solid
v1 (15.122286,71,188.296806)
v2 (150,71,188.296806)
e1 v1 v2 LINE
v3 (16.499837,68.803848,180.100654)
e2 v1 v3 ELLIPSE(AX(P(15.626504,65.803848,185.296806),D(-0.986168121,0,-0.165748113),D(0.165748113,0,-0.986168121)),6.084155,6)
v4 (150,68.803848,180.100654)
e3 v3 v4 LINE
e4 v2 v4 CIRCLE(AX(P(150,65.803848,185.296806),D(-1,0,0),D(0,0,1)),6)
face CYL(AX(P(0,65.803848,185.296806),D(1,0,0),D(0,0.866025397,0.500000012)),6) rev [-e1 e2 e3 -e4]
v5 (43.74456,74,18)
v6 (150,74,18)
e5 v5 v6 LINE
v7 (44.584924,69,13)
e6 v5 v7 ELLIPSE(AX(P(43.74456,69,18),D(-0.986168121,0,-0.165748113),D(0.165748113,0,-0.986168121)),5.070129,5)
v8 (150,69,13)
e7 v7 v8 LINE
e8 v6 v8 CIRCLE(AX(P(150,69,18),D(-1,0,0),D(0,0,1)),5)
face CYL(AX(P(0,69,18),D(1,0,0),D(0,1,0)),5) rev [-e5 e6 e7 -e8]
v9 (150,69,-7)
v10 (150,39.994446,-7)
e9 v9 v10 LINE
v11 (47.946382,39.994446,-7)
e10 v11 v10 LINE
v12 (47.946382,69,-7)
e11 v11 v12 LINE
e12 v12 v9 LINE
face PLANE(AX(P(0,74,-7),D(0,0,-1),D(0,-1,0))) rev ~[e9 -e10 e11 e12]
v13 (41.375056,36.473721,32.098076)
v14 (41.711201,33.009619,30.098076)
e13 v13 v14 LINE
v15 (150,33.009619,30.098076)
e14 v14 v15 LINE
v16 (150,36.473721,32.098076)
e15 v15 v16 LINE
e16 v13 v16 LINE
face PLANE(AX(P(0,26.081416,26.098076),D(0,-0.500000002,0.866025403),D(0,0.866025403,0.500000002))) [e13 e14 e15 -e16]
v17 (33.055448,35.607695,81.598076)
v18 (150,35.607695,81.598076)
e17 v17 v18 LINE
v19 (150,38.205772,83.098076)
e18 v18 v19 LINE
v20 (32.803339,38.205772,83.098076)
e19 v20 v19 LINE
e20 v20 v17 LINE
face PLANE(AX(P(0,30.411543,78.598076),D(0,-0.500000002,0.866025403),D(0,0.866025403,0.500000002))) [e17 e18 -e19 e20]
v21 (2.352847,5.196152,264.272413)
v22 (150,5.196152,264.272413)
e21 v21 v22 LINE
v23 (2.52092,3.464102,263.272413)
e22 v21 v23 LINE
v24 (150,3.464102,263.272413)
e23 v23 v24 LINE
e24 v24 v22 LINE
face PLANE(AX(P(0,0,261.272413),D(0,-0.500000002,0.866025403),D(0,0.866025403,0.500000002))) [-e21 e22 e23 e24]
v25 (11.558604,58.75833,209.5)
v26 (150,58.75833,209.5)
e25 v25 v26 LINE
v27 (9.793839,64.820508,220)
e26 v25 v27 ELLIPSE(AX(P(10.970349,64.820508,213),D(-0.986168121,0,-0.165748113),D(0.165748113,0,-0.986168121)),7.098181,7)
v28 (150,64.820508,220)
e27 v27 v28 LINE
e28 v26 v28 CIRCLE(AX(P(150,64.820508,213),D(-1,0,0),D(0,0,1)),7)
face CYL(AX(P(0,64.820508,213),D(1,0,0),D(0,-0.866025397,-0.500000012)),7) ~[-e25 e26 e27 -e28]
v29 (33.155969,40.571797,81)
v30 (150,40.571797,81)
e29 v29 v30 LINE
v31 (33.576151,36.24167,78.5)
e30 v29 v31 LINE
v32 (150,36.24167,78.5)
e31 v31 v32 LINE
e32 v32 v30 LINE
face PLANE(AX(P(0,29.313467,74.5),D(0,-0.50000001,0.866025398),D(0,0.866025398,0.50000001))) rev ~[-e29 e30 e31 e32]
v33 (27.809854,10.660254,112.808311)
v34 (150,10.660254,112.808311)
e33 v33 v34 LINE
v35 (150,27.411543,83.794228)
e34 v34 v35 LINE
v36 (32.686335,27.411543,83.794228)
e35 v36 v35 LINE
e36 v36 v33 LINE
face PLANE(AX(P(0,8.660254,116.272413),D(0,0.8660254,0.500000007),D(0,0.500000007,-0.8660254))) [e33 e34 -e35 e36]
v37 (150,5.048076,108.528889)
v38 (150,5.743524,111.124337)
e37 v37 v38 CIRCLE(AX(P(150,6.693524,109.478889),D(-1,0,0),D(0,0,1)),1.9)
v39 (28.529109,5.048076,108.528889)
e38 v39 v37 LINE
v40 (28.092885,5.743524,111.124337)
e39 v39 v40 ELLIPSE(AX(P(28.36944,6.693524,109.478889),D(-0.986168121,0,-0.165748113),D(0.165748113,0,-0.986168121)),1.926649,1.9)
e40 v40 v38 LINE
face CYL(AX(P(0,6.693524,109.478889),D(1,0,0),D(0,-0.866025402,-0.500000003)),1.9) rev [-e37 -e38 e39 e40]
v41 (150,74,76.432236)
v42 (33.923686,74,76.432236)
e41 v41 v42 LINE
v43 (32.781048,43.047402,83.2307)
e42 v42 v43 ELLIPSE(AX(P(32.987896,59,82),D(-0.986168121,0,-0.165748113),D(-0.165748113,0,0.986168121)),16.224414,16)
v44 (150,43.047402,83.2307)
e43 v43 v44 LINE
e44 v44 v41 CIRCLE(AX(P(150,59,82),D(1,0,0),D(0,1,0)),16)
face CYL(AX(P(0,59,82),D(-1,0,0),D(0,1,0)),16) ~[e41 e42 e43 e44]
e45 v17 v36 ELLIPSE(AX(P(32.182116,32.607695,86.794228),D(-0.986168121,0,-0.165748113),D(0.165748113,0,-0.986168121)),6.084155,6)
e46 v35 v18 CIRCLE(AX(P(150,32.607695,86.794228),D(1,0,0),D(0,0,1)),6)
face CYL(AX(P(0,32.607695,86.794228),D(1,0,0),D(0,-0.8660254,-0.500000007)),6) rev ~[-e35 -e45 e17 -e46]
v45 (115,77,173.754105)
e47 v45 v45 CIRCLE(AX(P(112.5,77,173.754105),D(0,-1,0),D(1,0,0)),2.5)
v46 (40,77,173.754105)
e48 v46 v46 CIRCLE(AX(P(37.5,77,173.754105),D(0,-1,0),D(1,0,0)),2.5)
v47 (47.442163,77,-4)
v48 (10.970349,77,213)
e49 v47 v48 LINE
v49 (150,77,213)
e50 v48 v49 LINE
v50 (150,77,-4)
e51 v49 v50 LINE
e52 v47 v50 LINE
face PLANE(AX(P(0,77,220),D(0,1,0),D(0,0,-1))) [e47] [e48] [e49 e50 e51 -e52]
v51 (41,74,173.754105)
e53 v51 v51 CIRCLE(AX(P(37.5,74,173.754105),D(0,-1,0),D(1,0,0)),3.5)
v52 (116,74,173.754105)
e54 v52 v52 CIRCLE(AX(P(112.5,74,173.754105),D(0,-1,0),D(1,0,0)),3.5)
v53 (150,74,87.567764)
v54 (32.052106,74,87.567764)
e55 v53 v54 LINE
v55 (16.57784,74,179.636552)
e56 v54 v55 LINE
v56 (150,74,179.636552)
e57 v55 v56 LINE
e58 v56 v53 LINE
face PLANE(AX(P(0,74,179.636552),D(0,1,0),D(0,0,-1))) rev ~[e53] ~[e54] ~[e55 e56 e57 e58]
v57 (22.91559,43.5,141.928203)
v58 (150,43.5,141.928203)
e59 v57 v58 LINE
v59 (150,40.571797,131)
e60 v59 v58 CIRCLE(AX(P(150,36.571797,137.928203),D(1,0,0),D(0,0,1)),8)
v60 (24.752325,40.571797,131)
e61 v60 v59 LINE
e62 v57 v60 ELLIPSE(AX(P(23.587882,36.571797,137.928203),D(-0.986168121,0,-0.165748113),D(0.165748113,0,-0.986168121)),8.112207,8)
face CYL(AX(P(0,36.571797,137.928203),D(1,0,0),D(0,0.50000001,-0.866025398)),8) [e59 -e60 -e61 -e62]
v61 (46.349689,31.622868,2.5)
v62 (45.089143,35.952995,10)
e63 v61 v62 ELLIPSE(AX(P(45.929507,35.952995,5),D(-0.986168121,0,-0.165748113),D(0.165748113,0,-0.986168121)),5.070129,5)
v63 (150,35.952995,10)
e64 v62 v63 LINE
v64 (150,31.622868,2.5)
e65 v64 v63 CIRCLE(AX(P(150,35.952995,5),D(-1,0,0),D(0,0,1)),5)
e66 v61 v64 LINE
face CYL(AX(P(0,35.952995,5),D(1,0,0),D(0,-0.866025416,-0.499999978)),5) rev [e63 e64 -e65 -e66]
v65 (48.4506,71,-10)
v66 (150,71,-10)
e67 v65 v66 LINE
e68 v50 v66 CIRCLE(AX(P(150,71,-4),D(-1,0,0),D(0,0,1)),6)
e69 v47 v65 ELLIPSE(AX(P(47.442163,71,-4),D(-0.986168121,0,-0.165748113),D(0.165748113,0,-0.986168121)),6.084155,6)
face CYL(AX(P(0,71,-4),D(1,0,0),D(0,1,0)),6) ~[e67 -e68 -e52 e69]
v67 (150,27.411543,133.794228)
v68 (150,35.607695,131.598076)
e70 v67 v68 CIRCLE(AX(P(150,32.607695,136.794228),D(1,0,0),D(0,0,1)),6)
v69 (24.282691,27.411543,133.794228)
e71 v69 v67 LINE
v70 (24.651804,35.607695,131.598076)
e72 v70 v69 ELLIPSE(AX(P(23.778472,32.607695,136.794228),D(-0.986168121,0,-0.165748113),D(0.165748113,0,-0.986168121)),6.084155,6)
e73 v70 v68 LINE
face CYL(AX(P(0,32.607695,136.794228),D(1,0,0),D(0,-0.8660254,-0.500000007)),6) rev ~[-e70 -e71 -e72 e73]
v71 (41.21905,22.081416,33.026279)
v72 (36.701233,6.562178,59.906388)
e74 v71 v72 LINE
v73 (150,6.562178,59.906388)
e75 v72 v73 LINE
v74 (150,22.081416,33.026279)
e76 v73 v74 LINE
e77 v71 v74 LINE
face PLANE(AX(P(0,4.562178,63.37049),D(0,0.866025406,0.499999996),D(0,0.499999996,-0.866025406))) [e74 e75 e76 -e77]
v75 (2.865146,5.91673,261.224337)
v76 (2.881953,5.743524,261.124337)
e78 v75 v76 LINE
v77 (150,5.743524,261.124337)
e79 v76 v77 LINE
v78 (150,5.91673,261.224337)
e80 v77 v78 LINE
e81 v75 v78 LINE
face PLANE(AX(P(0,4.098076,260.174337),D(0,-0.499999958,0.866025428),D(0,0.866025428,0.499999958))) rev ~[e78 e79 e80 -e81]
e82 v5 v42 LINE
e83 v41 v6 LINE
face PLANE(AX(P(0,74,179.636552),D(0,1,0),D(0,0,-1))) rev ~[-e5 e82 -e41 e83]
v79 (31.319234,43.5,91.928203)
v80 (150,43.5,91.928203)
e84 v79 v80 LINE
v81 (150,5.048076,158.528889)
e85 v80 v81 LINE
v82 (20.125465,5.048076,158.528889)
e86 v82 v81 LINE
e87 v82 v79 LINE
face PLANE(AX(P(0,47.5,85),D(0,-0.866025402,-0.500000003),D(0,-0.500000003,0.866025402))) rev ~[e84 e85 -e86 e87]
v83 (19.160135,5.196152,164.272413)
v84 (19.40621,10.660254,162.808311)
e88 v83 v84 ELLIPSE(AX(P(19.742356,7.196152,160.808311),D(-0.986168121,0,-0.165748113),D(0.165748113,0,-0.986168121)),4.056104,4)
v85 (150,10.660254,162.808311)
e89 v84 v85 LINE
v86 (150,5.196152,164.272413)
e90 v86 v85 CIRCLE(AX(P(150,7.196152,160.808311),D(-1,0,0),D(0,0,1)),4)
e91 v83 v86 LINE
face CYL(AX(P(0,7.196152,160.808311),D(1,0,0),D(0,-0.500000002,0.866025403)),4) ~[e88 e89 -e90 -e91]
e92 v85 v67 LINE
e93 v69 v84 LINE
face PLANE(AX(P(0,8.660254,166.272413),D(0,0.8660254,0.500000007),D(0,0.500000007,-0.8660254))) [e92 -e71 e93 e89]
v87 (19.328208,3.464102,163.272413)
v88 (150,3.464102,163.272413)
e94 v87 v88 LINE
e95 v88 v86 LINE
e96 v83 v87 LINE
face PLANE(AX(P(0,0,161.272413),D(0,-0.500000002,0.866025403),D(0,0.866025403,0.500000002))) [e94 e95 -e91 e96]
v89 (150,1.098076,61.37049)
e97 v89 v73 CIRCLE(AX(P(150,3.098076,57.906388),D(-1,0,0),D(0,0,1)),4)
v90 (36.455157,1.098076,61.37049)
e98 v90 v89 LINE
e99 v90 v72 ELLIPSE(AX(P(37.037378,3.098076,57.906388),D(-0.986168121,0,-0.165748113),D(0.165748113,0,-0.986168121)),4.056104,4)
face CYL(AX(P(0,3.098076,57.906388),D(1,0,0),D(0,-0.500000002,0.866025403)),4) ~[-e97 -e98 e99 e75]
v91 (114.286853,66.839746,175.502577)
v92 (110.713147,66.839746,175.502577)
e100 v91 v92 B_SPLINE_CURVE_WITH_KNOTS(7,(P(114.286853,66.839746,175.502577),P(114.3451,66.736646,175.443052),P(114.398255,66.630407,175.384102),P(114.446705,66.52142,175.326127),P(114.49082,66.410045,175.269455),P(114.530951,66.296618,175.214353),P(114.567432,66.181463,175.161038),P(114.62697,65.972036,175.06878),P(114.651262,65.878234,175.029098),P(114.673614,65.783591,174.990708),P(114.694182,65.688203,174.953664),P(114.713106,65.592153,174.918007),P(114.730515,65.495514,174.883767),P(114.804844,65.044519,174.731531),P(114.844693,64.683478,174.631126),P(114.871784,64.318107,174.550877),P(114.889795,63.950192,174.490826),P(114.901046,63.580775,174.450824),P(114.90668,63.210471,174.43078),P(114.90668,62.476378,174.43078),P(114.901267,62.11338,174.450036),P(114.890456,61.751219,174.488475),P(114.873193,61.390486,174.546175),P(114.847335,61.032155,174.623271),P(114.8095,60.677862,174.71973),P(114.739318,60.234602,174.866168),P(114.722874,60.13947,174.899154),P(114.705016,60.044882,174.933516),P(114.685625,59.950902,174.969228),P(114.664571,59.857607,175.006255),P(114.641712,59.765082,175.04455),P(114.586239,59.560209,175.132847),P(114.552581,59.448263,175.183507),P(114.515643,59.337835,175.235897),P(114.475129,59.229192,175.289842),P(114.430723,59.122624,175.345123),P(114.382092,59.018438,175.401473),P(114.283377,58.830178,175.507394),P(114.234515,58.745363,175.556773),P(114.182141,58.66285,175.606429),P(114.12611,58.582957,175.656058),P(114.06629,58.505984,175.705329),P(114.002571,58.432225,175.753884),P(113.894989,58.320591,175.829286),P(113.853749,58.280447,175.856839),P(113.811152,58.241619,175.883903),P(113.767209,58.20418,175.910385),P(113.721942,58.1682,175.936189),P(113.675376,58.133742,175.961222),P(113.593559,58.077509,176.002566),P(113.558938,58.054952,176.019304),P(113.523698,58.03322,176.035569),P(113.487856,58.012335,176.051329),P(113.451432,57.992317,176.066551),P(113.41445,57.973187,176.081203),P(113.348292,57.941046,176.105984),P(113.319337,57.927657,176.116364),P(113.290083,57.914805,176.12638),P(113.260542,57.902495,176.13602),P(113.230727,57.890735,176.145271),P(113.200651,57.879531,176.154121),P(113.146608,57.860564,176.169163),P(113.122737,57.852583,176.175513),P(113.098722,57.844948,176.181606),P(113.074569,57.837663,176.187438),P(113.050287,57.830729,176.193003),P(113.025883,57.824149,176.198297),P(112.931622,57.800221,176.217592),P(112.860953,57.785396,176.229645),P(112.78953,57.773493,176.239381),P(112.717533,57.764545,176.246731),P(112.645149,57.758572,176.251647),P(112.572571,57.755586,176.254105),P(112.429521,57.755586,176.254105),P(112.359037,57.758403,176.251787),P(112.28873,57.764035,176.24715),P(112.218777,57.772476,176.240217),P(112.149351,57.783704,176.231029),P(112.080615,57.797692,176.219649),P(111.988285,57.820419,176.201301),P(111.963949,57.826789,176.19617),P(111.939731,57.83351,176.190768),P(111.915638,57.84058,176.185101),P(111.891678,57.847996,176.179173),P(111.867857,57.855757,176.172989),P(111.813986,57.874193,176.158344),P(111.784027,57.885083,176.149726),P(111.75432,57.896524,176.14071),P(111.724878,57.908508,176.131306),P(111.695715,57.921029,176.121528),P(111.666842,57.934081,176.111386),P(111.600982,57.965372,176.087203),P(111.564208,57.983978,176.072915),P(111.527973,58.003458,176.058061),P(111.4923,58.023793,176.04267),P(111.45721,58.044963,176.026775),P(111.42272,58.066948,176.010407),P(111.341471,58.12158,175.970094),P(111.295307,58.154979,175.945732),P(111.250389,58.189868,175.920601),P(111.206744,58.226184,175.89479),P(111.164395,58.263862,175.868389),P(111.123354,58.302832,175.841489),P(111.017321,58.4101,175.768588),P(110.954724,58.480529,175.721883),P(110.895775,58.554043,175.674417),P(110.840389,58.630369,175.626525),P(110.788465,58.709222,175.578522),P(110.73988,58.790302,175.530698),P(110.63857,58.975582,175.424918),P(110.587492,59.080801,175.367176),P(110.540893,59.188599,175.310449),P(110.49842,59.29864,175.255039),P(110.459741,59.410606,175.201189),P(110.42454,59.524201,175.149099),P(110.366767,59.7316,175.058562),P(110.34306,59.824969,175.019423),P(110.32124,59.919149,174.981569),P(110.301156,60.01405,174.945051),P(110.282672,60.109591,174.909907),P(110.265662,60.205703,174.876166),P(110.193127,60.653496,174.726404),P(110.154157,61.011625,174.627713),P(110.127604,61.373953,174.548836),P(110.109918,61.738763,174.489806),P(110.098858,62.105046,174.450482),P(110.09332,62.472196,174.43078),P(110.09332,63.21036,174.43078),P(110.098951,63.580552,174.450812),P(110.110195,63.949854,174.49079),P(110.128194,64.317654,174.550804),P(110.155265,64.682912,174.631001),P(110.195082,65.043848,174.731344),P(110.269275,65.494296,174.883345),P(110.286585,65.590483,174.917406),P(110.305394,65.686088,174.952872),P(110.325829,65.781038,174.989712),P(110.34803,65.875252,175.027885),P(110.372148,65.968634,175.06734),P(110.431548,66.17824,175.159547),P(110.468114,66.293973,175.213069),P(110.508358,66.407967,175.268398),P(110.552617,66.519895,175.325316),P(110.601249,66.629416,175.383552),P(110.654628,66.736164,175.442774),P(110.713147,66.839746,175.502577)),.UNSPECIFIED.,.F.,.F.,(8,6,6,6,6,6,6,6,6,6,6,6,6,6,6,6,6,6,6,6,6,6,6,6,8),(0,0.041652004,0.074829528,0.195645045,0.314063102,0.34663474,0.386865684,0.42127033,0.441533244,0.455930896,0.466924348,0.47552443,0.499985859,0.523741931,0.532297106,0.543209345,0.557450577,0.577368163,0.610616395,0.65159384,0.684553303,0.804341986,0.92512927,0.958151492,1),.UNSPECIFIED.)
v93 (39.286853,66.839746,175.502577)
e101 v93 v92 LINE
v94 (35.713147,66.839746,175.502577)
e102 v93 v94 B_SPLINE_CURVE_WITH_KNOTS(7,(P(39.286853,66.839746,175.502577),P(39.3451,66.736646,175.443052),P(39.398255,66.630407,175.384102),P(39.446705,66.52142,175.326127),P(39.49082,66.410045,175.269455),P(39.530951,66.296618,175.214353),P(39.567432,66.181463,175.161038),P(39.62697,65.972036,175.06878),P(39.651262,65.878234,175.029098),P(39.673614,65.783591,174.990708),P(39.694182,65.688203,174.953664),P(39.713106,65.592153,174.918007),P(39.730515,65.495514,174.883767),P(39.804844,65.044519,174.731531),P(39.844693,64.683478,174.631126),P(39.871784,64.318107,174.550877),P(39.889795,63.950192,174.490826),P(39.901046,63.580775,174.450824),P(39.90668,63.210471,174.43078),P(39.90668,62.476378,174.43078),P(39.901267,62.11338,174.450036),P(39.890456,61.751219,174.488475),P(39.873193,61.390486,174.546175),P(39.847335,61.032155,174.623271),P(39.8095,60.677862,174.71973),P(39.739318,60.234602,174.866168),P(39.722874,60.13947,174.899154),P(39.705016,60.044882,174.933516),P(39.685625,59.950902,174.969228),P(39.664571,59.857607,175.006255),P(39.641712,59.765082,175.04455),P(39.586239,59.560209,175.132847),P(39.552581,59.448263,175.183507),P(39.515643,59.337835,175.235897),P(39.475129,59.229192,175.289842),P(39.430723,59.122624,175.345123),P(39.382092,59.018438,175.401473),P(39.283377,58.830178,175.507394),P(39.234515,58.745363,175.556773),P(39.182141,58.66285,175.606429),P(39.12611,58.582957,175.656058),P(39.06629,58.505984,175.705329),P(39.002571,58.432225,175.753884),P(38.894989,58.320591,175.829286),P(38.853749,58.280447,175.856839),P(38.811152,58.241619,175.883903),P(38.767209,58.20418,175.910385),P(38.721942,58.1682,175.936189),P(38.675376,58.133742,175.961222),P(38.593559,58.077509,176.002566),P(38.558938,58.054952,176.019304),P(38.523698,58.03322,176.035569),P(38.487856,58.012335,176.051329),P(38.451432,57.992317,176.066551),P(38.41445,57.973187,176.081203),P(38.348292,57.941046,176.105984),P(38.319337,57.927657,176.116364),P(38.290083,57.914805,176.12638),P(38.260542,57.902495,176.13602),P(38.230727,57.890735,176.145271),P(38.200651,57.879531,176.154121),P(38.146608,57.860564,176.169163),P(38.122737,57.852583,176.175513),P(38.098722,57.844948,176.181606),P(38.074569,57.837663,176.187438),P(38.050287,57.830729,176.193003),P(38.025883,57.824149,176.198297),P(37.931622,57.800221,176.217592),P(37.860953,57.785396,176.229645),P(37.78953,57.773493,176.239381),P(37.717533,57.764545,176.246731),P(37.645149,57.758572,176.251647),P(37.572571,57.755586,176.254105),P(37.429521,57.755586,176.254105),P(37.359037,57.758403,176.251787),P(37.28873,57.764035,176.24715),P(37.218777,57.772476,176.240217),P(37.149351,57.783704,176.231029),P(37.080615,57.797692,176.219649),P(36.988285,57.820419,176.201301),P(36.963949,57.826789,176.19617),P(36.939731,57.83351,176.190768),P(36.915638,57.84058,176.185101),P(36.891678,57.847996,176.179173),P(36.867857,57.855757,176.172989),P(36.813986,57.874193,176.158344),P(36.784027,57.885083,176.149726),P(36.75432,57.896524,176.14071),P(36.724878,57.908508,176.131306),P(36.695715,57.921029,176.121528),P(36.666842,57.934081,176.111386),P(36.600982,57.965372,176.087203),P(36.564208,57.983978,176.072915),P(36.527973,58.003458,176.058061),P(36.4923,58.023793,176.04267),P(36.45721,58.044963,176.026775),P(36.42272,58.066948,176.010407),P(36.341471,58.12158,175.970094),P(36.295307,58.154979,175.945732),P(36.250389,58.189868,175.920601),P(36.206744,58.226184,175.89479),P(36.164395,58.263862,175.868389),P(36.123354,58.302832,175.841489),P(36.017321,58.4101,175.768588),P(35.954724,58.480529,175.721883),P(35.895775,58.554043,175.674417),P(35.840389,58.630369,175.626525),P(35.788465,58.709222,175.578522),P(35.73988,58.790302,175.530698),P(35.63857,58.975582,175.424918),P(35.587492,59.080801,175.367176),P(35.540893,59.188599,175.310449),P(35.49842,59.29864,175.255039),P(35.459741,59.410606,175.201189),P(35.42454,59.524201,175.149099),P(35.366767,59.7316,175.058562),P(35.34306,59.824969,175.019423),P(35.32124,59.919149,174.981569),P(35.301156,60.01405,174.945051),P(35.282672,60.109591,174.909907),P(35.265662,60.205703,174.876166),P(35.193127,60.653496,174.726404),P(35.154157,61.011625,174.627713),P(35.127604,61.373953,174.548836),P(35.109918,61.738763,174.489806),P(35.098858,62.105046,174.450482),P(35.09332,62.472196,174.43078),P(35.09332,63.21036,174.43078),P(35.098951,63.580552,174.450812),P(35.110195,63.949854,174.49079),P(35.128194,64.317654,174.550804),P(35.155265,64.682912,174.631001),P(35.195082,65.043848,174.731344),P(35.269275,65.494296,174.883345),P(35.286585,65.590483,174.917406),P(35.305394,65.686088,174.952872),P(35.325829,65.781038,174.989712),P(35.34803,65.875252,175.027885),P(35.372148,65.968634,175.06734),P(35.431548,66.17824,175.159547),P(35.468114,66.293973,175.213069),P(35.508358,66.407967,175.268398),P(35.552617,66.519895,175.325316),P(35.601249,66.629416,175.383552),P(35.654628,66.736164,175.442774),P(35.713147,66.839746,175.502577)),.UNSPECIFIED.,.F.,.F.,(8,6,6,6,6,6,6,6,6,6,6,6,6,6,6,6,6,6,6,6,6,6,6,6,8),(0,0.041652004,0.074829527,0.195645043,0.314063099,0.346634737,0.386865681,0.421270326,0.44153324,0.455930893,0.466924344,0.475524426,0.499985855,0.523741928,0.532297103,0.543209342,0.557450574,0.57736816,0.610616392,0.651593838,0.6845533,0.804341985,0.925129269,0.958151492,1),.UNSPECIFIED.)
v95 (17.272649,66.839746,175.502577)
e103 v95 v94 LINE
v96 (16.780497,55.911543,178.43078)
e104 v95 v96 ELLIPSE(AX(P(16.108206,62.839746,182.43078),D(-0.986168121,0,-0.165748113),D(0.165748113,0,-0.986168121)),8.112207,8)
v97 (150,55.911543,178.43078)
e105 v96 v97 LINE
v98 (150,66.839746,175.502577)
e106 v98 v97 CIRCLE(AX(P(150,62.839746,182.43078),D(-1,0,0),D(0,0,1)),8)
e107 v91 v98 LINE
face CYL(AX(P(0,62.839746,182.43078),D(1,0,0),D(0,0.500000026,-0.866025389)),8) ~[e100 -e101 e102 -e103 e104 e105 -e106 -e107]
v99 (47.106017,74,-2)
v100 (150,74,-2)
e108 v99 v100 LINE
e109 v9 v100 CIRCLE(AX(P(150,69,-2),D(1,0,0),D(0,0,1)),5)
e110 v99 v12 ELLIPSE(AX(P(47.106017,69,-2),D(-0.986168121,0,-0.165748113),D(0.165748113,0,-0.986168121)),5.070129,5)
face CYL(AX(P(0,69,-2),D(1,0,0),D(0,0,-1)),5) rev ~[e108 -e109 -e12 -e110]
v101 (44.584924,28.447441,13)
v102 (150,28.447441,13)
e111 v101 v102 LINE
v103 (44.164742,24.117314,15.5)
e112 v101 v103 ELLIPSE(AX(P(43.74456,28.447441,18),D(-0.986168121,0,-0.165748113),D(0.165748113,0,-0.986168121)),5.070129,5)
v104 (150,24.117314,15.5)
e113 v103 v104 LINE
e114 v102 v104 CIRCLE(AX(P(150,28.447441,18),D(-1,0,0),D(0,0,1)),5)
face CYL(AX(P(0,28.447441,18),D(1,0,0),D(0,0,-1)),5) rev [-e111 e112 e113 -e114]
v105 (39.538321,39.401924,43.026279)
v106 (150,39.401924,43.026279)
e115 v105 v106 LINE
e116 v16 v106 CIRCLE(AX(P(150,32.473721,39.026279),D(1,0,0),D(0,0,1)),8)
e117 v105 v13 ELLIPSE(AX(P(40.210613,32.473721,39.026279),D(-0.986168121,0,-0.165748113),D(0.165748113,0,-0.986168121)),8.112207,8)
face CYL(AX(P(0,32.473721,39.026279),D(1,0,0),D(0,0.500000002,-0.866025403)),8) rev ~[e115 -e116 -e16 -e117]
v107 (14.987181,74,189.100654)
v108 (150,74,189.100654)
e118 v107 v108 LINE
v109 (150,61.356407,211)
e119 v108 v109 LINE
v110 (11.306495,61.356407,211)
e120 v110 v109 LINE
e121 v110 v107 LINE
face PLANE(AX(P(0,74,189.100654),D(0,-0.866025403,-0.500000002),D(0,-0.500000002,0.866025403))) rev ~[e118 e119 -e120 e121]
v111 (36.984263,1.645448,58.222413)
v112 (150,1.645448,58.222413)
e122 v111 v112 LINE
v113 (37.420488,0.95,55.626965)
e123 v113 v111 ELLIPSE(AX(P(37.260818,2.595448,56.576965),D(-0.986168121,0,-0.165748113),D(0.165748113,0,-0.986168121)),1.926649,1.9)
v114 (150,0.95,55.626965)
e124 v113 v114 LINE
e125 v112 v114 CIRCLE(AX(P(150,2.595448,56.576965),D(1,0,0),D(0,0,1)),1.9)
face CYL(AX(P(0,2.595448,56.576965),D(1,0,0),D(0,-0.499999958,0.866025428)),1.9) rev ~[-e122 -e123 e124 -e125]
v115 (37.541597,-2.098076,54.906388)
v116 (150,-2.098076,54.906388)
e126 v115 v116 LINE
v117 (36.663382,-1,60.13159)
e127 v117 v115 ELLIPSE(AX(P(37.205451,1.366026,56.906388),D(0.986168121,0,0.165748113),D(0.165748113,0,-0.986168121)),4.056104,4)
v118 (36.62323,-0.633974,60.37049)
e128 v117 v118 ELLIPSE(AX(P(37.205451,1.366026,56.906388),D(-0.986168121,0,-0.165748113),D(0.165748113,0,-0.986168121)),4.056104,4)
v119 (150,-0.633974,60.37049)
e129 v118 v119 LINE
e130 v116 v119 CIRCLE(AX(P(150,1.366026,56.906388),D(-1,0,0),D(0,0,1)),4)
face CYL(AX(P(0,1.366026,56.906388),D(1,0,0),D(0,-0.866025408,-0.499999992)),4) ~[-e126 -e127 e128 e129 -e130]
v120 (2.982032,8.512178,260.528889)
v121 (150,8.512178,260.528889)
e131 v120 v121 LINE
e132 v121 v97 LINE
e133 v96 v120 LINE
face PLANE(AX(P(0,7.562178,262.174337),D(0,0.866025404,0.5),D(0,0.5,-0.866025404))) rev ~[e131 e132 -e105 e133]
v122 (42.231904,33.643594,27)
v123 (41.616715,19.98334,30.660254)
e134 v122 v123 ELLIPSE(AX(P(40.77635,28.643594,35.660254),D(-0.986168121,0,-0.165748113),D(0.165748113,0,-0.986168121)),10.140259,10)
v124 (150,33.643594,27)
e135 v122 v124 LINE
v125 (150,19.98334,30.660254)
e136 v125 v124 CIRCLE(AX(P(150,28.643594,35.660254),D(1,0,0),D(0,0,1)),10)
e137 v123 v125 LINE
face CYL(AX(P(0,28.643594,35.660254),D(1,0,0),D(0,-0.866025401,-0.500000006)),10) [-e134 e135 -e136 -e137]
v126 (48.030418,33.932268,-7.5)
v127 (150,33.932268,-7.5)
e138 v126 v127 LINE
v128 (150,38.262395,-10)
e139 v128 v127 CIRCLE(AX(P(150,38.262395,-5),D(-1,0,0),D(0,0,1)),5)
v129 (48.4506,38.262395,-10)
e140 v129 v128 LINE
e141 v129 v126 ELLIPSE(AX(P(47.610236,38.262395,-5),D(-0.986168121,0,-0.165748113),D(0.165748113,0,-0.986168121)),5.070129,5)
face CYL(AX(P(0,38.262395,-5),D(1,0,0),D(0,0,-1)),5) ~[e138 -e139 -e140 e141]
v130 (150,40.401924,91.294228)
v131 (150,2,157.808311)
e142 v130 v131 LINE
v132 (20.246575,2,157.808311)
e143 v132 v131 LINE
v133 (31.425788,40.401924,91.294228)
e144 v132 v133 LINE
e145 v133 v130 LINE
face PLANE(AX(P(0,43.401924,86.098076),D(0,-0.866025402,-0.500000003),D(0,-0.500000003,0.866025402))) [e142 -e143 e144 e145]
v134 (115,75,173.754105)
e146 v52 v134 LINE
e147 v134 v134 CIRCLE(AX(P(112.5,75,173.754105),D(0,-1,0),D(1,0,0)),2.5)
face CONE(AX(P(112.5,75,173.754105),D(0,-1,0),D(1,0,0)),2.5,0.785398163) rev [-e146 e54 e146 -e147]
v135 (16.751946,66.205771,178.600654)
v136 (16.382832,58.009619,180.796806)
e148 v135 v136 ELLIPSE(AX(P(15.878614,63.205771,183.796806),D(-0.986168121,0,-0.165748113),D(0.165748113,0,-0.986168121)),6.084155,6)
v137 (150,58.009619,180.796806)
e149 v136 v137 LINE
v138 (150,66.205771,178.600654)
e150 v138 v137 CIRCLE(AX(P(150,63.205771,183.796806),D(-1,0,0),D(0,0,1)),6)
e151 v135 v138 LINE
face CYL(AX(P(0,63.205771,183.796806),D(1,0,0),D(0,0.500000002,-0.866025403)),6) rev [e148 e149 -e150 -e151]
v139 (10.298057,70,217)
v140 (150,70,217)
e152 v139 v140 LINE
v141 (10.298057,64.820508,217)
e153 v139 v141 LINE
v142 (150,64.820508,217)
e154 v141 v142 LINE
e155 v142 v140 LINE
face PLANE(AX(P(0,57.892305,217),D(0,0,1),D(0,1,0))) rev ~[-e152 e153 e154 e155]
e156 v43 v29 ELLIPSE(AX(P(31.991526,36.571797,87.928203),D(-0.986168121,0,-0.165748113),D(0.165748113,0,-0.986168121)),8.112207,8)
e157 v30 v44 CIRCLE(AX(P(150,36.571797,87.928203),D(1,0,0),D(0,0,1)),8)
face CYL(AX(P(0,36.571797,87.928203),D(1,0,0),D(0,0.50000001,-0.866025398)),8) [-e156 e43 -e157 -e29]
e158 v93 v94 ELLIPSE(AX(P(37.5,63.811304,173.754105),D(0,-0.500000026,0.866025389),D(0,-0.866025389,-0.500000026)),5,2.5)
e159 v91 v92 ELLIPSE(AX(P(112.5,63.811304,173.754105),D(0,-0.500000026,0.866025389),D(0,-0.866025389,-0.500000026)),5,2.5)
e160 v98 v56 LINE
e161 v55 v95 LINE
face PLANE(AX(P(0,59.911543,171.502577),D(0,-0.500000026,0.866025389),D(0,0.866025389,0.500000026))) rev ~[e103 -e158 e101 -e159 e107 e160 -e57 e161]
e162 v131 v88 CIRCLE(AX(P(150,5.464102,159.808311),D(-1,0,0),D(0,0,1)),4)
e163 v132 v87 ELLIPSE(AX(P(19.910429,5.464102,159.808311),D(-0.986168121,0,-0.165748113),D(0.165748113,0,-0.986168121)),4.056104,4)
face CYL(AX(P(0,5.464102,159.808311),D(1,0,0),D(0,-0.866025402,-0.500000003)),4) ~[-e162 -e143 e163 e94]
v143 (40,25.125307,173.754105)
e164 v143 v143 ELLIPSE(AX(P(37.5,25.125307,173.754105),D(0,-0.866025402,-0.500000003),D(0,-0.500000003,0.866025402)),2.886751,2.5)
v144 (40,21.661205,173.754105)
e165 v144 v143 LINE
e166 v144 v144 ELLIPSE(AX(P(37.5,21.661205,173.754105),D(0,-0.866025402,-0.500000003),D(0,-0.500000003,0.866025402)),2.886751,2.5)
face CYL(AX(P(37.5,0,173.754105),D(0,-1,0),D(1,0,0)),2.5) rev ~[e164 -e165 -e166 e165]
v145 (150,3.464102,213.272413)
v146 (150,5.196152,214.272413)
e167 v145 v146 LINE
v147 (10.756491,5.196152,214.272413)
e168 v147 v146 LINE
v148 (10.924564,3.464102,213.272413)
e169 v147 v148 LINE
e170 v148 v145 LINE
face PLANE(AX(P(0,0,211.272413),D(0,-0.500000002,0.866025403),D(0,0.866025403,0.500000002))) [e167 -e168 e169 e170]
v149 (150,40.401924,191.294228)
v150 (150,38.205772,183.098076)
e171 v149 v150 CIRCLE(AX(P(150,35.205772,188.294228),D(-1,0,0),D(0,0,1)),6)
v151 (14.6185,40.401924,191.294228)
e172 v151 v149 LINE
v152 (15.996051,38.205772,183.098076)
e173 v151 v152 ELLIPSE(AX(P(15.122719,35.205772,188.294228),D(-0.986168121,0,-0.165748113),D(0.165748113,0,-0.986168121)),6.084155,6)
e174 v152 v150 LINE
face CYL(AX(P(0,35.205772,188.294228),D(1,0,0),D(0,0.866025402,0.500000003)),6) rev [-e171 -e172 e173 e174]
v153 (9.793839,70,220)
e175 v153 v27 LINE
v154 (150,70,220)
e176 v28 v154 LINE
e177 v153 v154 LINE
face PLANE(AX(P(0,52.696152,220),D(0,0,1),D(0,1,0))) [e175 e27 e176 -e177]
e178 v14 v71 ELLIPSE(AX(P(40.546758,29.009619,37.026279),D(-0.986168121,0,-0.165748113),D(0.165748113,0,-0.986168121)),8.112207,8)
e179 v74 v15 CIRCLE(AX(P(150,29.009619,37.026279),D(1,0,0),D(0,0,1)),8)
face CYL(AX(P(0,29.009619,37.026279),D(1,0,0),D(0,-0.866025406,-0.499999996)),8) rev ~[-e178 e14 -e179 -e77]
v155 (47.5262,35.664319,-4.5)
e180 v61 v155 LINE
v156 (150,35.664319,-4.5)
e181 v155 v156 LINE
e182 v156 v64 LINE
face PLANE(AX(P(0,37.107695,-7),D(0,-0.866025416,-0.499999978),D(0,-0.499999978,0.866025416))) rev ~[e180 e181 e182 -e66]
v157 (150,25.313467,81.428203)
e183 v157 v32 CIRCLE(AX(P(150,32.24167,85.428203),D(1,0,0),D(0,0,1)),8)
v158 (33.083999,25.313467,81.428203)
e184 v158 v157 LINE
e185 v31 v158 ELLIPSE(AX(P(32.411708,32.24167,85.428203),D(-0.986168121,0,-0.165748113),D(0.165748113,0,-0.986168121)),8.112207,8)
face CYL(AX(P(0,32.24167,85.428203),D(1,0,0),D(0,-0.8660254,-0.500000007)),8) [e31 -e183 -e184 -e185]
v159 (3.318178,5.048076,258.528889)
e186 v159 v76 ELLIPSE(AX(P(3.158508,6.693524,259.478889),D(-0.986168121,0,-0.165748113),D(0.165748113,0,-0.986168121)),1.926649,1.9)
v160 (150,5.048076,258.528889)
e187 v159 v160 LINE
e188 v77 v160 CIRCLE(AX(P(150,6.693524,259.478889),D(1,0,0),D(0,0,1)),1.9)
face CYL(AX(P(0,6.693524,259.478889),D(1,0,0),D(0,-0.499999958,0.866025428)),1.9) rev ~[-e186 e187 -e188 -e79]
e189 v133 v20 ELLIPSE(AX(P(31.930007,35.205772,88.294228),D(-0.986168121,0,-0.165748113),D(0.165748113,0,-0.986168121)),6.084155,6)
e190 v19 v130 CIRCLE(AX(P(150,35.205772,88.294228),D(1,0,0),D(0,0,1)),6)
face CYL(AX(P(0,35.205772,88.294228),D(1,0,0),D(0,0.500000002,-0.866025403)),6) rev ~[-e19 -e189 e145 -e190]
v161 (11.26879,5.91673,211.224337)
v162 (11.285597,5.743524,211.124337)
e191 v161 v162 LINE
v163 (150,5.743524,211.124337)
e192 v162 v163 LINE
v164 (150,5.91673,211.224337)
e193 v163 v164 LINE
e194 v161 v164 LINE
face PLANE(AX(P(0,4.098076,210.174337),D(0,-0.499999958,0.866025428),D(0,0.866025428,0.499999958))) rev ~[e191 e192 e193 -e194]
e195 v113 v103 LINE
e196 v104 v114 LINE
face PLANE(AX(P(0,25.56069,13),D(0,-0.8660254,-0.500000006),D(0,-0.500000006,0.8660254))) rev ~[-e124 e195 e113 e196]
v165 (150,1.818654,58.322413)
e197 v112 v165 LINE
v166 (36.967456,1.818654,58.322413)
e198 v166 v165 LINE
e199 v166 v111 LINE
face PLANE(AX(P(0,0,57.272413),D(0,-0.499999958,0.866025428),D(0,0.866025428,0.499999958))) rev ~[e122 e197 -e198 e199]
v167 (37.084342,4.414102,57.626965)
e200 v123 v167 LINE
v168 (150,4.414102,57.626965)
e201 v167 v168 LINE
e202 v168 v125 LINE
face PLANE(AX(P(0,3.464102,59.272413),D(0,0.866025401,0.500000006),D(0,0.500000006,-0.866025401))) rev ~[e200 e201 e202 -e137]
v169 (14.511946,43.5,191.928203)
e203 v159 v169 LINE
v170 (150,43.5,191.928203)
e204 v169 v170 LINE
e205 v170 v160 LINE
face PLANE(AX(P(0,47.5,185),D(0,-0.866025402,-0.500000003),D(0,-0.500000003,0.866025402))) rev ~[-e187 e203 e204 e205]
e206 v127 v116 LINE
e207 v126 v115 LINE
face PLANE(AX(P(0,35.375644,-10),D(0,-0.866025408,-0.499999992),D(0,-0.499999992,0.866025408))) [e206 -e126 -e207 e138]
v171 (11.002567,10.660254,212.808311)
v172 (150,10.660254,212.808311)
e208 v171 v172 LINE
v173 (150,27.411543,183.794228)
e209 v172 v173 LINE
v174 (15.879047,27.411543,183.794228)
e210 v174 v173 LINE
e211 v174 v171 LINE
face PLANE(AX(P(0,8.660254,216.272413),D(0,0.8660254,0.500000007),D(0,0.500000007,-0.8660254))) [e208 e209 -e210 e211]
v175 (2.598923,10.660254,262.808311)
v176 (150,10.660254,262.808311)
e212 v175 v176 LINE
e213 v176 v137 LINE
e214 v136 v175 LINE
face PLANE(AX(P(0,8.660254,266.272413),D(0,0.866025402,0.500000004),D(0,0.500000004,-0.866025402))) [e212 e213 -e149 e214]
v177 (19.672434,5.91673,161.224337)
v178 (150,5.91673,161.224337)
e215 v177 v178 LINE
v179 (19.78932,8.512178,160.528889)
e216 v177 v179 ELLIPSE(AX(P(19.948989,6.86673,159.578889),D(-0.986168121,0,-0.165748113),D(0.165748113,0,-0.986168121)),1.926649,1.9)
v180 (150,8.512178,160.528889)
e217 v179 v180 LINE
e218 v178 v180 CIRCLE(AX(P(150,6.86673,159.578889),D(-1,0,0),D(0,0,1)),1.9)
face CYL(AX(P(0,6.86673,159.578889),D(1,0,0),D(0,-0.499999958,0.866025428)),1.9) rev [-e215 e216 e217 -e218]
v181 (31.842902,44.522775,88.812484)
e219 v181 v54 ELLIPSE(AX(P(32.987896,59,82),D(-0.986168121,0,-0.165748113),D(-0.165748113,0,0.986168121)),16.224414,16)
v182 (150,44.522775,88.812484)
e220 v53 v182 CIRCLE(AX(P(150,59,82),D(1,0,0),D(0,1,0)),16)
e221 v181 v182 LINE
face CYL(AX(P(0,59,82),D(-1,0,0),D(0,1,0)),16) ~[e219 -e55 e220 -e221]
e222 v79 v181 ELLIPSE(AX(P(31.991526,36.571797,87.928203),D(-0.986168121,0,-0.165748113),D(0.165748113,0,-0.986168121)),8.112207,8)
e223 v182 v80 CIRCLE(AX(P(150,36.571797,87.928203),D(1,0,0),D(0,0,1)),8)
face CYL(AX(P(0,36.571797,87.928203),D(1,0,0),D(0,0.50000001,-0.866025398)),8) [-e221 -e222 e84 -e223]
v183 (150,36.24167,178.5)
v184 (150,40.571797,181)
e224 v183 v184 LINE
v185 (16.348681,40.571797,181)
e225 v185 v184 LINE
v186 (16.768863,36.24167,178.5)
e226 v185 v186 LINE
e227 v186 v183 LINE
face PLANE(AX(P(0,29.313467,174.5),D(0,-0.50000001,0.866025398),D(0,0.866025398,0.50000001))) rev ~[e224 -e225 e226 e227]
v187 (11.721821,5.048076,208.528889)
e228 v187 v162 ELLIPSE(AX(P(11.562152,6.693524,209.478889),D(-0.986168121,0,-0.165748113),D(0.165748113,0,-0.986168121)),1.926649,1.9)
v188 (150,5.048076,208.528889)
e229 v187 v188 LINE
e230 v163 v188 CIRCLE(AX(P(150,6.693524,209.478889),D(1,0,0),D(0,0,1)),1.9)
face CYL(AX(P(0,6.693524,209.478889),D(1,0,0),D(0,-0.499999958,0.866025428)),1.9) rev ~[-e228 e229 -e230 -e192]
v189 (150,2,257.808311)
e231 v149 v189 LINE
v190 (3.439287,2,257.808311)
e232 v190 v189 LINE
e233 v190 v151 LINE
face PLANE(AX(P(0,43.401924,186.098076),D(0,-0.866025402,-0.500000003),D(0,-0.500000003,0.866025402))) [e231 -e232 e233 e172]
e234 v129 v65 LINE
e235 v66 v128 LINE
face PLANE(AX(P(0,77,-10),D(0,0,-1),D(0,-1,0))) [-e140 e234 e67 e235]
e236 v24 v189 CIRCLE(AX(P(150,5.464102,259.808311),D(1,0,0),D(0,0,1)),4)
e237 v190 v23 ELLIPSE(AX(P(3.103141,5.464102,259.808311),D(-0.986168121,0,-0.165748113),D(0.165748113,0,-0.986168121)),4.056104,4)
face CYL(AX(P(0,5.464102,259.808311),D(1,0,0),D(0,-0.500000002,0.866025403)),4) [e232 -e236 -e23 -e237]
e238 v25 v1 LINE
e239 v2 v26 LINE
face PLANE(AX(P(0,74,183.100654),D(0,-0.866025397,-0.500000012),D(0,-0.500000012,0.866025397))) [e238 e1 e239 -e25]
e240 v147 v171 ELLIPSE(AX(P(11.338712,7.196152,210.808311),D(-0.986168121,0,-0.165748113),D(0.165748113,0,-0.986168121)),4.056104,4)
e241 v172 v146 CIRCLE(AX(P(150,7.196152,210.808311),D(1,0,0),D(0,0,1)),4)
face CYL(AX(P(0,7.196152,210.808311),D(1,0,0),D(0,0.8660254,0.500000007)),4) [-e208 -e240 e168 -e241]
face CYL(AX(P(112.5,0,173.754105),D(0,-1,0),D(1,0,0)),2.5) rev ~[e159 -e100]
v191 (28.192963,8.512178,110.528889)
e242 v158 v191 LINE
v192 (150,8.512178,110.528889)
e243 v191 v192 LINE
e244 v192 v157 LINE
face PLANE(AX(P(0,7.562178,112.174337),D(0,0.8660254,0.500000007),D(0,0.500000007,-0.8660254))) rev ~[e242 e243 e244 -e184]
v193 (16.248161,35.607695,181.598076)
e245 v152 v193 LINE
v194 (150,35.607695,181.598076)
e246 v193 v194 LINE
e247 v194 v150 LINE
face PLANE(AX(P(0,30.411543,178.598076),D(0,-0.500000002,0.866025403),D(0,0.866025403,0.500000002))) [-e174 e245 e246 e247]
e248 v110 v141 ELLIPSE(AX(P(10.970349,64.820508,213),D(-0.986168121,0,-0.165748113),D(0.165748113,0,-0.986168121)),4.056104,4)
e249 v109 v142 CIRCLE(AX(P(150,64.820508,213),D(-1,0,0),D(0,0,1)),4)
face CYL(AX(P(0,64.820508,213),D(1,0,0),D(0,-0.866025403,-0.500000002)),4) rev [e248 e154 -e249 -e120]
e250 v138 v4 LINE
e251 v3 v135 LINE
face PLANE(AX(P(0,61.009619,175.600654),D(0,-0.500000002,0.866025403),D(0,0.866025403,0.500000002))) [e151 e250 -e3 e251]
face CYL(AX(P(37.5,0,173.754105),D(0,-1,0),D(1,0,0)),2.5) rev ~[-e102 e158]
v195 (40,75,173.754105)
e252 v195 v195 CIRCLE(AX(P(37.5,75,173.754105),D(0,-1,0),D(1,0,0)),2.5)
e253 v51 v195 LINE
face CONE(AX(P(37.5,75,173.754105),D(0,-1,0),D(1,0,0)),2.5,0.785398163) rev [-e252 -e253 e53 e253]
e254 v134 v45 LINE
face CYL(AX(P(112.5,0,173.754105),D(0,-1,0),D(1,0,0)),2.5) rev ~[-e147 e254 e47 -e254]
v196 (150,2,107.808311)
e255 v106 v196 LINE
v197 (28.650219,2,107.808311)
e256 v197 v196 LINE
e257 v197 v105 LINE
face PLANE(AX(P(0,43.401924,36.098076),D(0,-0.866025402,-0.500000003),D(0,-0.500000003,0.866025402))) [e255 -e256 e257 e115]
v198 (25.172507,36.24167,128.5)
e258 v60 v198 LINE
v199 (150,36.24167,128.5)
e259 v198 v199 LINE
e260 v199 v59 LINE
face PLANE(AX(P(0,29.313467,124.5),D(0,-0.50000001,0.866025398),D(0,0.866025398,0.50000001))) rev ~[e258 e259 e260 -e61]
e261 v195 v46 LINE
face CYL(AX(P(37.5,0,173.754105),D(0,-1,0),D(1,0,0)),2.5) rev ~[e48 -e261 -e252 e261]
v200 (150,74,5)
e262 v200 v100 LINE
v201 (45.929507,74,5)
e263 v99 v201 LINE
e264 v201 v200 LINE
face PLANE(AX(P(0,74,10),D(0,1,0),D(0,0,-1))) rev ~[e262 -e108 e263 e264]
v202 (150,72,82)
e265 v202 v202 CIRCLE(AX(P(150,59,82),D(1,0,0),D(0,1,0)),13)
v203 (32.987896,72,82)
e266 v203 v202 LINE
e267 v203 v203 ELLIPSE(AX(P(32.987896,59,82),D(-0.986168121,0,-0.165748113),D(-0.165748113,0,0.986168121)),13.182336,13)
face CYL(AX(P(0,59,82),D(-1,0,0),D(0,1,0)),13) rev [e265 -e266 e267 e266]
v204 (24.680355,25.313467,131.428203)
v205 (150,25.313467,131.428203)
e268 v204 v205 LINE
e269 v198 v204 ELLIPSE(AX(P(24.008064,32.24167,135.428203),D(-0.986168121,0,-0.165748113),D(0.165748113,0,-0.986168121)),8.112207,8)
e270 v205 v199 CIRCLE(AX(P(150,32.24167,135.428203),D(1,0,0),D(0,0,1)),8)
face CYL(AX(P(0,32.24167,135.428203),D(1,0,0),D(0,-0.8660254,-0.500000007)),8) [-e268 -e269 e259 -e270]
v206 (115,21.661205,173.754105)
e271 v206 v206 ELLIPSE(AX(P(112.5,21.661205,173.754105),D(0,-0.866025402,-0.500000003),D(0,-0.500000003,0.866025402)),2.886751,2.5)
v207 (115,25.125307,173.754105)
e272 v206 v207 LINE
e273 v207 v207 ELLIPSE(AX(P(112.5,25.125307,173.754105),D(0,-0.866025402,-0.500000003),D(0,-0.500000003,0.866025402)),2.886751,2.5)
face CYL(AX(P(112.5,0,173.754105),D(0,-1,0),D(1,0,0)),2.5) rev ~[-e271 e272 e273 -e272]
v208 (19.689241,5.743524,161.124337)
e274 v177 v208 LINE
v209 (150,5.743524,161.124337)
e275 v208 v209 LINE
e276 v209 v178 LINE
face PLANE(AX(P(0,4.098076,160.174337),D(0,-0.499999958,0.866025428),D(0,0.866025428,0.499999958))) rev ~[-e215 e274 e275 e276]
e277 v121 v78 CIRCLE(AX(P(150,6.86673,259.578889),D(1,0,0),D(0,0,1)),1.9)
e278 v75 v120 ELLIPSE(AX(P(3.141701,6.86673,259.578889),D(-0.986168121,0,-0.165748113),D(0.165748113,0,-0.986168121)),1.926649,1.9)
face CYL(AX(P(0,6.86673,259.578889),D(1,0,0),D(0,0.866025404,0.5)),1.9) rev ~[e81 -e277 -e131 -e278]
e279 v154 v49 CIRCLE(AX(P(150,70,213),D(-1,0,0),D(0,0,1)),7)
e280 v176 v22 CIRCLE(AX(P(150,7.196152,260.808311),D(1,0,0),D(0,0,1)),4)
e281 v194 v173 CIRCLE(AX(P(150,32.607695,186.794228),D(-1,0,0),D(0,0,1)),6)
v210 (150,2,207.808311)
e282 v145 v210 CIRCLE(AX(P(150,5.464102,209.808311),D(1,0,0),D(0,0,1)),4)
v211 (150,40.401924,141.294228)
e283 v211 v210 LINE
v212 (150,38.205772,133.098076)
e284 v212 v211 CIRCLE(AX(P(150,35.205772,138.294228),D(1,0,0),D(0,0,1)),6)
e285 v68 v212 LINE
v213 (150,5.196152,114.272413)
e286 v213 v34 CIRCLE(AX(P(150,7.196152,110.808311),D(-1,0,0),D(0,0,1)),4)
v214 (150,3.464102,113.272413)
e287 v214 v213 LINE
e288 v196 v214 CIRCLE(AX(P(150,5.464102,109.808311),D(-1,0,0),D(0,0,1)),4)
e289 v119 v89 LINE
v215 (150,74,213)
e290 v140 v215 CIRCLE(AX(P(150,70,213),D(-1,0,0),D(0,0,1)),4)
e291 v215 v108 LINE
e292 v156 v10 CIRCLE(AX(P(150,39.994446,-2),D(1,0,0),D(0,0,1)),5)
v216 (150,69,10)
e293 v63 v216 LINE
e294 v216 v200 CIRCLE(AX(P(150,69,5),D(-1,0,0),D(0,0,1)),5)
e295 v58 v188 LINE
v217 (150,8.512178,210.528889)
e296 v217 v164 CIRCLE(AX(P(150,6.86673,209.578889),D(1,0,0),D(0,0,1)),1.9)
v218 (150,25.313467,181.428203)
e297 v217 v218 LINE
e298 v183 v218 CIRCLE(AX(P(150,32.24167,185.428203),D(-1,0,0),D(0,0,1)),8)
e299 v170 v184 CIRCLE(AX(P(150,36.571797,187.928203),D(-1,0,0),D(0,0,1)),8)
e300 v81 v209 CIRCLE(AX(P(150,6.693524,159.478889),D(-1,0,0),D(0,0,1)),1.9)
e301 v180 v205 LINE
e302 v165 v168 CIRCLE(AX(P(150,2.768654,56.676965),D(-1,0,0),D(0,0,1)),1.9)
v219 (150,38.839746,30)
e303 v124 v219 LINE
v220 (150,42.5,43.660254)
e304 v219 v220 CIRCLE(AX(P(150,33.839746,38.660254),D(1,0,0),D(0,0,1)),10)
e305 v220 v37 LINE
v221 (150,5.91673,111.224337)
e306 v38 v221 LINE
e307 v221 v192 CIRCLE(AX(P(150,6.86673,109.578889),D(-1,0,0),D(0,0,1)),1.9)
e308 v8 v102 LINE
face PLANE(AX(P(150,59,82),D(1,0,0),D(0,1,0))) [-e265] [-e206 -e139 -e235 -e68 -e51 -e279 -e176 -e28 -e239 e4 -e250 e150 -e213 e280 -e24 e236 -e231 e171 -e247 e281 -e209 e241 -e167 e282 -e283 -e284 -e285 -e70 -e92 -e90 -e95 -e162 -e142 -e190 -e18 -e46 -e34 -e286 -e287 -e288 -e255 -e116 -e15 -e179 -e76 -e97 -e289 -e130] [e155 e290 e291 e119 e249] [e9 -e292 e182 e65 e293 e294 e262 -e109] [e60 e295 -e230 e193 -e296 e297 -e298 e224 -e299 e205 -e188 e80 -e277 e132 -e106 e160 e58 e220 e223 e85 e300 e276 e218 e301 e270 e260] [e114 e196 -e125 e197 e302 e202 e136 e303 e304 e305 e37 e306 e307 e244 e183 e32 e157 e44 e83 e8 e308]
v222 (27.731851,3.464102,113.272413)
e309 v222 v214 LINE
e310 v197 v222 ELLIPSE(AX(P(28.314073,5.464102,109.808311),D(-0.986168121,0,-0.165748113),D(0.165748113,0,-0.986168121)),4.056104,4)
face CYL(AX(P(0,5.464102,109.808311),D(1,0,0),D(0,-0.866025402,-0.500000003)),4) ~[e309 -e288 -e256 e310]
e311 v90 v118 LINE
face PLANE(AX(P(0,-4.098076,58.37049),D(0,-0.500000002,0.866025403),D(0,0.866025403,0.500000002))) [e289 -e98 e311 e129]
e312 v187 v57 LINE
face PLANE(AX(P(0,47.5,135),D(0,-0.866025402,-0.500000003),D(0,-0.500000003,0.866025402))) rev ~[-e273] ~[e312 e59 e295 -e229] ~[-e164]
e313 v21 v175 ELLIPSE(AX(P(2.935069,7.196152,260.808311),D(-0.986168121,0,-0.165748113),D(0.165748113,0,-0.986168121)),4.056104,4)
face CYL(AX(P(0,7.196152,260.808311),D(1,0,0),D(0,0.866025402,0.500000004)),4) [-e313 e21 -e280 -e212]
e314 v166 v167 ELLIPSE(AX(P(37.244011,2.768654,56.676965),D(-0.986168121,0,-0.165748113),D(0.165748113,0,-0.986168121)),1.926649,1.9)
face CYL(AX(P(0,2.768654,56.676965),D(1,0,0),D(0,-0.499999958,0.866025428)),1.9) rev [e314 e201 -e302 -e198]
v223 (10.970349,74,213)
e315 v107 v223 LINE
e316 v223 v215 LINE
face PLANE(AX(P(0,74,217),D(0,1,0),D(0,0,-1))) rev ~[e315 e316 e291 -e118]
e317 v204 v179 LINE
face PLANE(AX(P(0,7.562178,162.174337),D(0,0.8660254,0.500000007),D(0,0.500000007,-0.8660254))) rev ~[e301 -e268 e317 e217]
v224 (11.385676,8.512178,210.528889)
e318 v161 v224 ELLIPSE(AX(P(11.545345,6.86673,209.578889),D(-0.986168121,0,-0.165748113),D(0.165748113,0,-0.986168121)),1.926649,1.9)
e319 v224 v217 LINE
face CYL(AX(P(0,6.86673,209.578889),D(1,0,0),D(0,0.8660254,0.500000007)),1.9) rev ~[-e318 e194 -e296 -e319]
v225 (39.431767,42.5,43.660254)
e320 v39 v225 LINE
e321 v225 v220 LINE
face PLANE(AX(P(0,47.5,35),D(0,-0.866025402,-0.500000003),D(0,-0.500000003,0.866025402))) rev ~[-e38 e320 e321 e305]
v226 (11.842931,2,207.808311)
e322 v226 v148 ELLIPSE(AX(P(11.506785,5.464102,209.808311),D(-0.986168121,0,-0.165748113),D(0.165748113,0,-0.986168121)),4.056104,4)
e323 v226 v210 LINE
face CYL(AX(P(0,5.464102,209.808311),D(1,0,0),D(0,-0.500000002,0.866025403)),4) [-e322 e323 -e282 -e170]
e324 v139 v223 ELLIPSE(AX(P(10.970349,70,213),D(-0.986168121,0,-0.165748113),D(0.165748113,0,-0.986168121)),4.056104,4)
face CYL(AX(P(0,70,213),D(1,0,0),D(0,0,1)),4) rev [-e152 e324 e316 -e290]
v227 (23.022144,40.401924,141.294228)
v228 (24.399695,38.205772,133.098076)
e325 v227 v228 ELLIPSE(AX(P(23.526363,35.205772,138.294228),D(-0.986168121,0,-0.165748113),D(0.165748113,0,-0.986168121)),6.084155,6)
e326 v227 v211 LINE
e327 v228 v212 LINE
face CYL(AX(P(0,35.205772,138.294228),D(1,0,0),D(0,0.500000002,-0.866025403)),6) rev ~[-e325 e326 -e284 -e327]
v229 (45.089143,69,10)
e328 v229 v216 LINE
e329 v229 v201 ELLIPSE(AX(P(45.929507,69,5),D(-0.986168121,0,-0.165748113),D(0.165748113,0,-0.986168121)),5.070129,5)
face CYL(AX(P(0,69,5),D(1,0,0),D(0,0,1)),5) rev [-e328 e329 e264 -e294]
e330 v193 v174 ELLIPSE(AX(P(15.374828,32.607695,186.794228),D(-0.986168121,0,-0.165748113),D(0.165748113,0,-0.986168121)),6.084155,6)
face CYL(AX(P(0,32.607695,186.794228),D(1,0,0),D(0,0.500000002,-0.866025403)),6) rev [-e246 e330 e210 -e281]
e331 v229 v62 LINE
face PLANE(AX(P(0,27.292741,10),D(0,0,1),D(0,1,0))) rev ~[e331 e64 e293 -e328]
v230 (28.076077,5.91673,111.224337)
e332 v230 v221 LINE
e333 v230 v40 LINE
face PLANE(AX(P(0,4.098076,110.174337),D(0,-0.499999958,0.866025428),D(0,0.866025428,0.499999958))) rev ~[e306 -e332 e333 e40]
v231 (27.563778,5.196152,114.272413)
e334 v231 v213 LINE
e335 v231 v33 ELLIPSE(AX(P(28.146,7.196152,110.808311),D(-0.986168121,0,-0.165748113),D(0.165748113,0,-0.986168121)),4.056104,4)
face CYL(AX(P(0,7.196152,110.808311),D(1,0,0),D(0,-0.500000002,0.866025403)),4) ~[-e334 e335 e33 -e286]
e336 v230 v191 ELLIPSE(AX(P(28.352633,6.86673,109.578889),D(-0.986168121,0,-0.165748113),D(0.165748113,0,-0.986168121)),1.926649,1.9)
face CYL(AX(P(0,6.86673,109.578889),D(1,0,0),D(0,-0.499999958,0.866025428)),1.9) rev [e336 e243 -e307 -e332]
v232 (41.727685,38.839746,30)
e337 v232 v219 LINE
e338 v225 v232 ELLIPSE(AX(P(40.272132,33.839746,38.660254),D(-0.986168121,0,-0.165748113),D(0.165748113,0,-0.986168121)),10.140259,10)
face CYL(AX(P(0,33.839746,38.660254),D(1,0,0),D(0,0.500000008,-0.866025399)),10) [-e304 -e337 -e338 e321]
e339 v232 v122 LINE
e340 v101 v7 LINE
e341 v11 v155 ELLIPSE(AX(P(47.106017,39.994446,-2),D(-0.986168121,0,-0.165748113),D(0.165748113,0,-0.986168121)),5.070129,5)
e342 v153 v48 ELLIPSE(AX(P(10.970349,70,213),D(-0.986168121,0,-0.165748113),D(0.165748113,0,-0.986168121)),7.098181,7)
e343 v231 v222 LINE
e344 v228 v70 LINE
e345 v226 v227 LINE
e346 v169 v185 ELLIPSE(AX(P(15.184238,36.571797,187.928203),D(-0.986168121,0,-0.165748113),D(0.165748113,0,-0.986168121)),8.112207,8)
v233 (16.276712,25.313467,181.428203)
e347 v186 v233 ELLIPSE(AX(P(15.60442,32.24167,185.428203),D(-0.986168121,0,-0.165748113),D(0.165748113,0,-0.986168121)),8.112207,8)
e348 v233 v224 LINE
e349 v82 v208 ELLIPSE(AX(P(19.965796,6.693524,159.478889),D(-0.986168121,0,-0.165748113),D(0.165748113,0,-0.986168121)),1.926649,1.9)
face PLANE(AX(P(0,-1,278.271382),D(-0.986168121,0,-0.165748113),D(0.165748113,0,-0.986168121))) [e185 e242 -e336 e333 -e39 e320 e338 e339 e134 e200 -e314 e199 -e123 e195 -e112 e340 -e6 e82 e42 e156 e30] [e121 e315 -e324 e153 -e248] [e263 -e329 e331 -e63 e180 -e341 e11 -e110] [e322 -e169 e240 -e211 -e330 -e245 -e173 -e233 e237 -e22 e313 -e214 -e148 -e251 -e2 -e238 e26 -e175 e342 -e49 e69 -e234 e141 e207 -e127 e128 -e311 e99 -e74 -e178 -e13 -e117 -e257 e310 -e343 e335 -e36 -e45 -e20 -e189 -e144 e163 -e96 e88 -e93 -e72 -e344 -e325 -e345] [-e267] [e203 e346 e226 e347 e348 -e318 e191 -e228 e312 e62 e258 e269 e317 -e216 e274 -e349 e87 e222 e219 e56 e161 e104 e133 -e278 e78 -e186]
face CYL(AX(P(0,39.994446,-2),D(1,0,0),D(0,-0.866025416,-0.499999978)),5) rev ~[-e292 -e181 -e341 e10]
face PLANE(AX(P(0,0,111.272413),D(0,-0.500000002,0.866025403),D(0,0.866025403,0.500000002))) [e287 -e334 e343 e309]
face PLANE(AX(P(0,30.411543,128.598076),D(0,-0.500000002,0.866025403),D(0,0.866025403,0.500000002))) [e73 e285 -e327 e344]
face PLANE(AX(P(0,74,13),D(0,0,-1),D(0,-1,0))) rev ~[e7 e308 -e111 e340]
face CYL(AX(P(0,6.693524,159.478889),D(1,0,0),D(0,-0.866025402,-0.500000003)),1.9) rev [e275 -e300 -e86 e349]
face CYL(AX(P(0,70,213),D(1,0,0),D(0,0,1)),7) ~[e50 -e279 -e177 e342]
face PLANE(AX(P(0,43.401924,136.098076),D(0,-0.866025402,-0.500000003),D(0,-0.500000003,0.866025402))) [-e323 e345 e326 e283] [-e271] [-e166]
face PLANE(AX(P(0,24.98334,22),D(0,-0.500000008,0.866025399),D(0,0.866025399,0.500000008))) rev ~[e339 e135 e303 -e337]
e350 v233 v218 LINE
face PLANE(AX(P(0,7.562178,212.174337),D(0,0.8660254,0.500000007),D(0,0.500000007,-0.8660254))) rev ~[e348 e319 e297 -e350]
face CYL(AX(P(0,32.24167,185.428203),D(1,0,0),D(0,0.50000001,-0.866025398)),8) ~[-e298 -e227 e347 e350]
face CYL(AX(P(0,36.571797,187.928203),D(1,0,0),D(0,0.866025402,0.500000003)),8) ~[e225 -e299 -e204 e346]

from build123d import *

# Parameters (mm, degrees)
PAD_DEPTH         = 150
FILLET_R          = 4
FILLET001_R       = 1.9
FILLET002_R       = 10
FILLET003_R       = 8
FILLET004_R       = 8
FILLET005_R       = 6
FILLET006_R       = 8
FILLET007_R       = 6
FILLET008_R       = 4
FILLET009_R       = 7
FILLET010_R       = 5
FILLET011_R       = 6
FILLET012_R       = 5
SKETCH003_R       = 16
SKETCH003_R_2     = 13
PAD001_DEPTH      = 150
SKETCH004_R       = 2.5
HOLE_DEPTH        = 77.001
CHAMFER_SIZE      = 1
POCKET_DEPTH      = 78.001
POCKET_DEPTH_BACK = 1.634975


with BuildPart() as part:
    # Sketch001 → Pad (new body)
    with BuildSketch(Plane.YZ):
        Polygon((77, -10), (35.375644, -10), (-4.098076, 58.37049), (4.562178, 63.37049), (26.081416, 26.098076), (43.401924, 36.098076), (0, 111.272413), (8.660254, 116.272413), (30.411543, 78.598076), (43.401924, 86.098076), (0, 161.272413), (8.660254, 166.272413), (30.411543, 128.598076), (43.401924, 136.098076), (0, 211.272413), (8.660254, 216.272413), (30.411543, 178.598076), (43.401924, 186.098076), (0, 261.272413), (8.660254, 266.272413), (61.009619, 175.600654), (74, 183.100654), (52.696152, 220), (77, 220), align=None)
        Polygon((37.107695, -7), (27.292741, 10), (74, 10), (74, -7), align=None, mode=Mode.SUBTRACT)
        Polygon((0, 57.272413), (3.464102, 59.272413), (24.98334, 22), (47.5, 35), (4.098076, 110.174337), (7.562178, 112.174337), (29.313467, 74.5), (47.5, 85), (4.098076, 160.174337), (7.562178, 162.174337), (29.313467, 124.5), (47.5, 135), (4.098076, 210.174337), (7.562178, 212.174337), (29.313467, 174.5), (47.5, 185), (4.098076, 260.174337), (7.562178, 262.174337), (59.911543, 171.502577), (74, 179.636552), (74, 13), (25.56069, 13), align=None, mode=Mode.SUBTRACT)
        Polygon((74, 189.100654), (57.892305, 217), (74, 217), align=None, mode=Mode.SUBTRACT)
    extrude(amount=PAD_DEPTH)

    # Fillet
    fillet_edges = [part.edges().sort_by_distance(p)[0] for p in [
        (75, -4.098076, 58.37049),
        (75, 4.562178, 63.37049),
        (75, 0, 111.272413),
        (75, 8.660254, 116.272413),
        (75, 0, 161.272413),
        (75, 8.660254, 166.272413),
        (75, 0, 211.272413),
        (75, 8.660254, 216.272413),
        (75, 0, 261.272413),
        (75, 8.660254, 266.272413),
    ]]
    fillet(fillet_edges, radius=FILLET_R)

    # Fillet001
    fillet001_edges = [part.edges().sort_by_distance(p)[0] for p in [
        (75, 3.464102, 59.272413),
        (75, 0, 57.272413),
        (75, 7.562178, 112.174337),
        (75, 4.098076, 110.174337),
        (75, 4.098076, 160.174337),
        (75, 7.562178, 162.174337),
        (75, 7.562178, 212.174337),
        (75, 4.098076, 210.174337),
        (75, 7.562178, 262.174337),
        (75, 4.098076, 260.174337),
    ]]
    fillet(fillet001_edges, radius=FILLET001_R)

    # Fillet002
    fillet002_edges = [part.edges().sort_by_distance(p)[0] for p in [
        (75, 47.5, 35),
        (75, 24.98334, 22),
    ]]
    fillet(fillet002_edges, radius=FILLET002_R)

    # Fillet003
    fillet003_edges = [part.edges().sort_by_distance(p)[0] for p in [
        (75, 43.401924, 36.098076),
        (75, 26.081416, 26.098076),
    ]]
    fillet(fillet003_edges, radius=FILLET003_R)

    # Fillet004
    fillet004_edges = [part.edges().sort_by_distance(p)[0] for p in [
        (75, 47.5, 85),
        (75, 29.313467, 74.5),
        (75, 29.313467, 124.5),
        (75, 47.5, 135),
        (75, 29.313467, 174.5),
        (75, 47.5, 185),
    ]]
    fillet(fillet004_edges, radius=FILLET004_R)

    # Fillet005
    fillet005_edges = [part.edges().sort_by_distance(p)[0] for p in [
        (75, 30.411543, 128.598076),
        (75, 30.411543, 78.598076),
        (75, 43.401924, 86.098076),
        (75, 43.401924, 136.098076),
        (75, 30.411543, 178.598076),
        (75, 43.401924, 186.098076),
    ]]
    fillet(fillet005_edges, radius=FILLET005_R)

    # Fillet006
    fillet006_edges = [part.edges().sort_by_distance(p)[0] for p in [
        (75, 59.911543, 171.502577),
    ]]
    fillet(fillet006_edges, radius=FILLET006_R)

    # Fillet007
    fillet007_edges = [part.edges().sort_by_distance(p)[0] for p in [
        (75, 61.009619, 175.600654),
        (75, 74, 183.100654),
    ]]
    fillet(fillet007_edges, radius=FILLET007_R)

    # Fillet008
    fillet008_edges = [part.edges().sort_by_distance(p)[0] for p in [
        (75, 57.892305, 217),
        (75, 74, 217),
    ]]
    fillet(fillet008_edges, radius=FILLET008_R)

    # Fillet009
    fillet009_edges = [part.edges().sort_by_distance(p)[0] for p in [
        (75, 52.696152, 220),
        (75, 77, 220),
    ]]
    fillet(fillet009_edges, radius=FILLET009_R)

    # Fillet010
    fillet010_edges = [part.edges().sort_by_distance(p)[0] for p in [
        (75, 74, 13),
        (75, 25.56069, 13),
        (75, 74, 10),
        (75, 27.292741, 10),
        (75, 37.107695, -7),
        (75, 74, -7),
    ]]
    fillet(fillet010_edges, radius=FILLET010_R)

    # Fillet011
    fillet011_edges = [part.edges().sort_by_distance(p)[0] for p in [
        (75, 77, -10),
    ]]
    fillet(fillet011_edges, radius=FILLET011_R)

    # Fillet012
    fillet012_edges = [part.edges().sort_by_distance(p)[0] for p in [
        (75, 35.375644, -10),
    ]]
    fillet(fillet012_edges, radius=FILLET012_R)

    # Sketch003 → Pad001 (join)
    with BuildSketch(Plane.YZ):
        with Locations((59, 82)):
            Circle(SKETCH003_R)
        with Locations((59, 82)):
            Circle(SKETCH003_R_2, mode=Mode.SUBTRACT)
    extrude(amount=PAD001_DEPTH)

    # Sketch004 → Hole (cut, through all)
    with BuildSketch(Plane.XZ):
        with Locations((37.5, 173.754105)):
            Circle(SKETCH004_R)
        with Locations((112.5, 173.754105)):
            Circle(SKETCH004_R)
    extrude(amount=-HOLE_DEPTH, mode=Mode.SUBTRACT)

    # Chamfer
    chamfer_edges = [part.edges().sort_by_distance(p)[0] for p in [
        (110, 74, 173.754105),
        (35, 74, 173.754105),
    ]]
    chamfer(chamfer_edges, length=CHAMFER_SIZE)

    # Sketch002 → Pocket (cut, two sides)
    with BuildSketch(Plane.XZ.offset(1)) as pocket_sk:
        Polygon((0, -19.218618), (0, 278.271382), (50, -19.218618), align=None)
    extrude(amount=-POCKET_DEPTH, mode=Mode.SUBTRACT)
    extrude(pocket_sk.sketch, amount=POCKET_DEPTH_BACK, mode=Mode.SUBTRACT)


solid = part.part
